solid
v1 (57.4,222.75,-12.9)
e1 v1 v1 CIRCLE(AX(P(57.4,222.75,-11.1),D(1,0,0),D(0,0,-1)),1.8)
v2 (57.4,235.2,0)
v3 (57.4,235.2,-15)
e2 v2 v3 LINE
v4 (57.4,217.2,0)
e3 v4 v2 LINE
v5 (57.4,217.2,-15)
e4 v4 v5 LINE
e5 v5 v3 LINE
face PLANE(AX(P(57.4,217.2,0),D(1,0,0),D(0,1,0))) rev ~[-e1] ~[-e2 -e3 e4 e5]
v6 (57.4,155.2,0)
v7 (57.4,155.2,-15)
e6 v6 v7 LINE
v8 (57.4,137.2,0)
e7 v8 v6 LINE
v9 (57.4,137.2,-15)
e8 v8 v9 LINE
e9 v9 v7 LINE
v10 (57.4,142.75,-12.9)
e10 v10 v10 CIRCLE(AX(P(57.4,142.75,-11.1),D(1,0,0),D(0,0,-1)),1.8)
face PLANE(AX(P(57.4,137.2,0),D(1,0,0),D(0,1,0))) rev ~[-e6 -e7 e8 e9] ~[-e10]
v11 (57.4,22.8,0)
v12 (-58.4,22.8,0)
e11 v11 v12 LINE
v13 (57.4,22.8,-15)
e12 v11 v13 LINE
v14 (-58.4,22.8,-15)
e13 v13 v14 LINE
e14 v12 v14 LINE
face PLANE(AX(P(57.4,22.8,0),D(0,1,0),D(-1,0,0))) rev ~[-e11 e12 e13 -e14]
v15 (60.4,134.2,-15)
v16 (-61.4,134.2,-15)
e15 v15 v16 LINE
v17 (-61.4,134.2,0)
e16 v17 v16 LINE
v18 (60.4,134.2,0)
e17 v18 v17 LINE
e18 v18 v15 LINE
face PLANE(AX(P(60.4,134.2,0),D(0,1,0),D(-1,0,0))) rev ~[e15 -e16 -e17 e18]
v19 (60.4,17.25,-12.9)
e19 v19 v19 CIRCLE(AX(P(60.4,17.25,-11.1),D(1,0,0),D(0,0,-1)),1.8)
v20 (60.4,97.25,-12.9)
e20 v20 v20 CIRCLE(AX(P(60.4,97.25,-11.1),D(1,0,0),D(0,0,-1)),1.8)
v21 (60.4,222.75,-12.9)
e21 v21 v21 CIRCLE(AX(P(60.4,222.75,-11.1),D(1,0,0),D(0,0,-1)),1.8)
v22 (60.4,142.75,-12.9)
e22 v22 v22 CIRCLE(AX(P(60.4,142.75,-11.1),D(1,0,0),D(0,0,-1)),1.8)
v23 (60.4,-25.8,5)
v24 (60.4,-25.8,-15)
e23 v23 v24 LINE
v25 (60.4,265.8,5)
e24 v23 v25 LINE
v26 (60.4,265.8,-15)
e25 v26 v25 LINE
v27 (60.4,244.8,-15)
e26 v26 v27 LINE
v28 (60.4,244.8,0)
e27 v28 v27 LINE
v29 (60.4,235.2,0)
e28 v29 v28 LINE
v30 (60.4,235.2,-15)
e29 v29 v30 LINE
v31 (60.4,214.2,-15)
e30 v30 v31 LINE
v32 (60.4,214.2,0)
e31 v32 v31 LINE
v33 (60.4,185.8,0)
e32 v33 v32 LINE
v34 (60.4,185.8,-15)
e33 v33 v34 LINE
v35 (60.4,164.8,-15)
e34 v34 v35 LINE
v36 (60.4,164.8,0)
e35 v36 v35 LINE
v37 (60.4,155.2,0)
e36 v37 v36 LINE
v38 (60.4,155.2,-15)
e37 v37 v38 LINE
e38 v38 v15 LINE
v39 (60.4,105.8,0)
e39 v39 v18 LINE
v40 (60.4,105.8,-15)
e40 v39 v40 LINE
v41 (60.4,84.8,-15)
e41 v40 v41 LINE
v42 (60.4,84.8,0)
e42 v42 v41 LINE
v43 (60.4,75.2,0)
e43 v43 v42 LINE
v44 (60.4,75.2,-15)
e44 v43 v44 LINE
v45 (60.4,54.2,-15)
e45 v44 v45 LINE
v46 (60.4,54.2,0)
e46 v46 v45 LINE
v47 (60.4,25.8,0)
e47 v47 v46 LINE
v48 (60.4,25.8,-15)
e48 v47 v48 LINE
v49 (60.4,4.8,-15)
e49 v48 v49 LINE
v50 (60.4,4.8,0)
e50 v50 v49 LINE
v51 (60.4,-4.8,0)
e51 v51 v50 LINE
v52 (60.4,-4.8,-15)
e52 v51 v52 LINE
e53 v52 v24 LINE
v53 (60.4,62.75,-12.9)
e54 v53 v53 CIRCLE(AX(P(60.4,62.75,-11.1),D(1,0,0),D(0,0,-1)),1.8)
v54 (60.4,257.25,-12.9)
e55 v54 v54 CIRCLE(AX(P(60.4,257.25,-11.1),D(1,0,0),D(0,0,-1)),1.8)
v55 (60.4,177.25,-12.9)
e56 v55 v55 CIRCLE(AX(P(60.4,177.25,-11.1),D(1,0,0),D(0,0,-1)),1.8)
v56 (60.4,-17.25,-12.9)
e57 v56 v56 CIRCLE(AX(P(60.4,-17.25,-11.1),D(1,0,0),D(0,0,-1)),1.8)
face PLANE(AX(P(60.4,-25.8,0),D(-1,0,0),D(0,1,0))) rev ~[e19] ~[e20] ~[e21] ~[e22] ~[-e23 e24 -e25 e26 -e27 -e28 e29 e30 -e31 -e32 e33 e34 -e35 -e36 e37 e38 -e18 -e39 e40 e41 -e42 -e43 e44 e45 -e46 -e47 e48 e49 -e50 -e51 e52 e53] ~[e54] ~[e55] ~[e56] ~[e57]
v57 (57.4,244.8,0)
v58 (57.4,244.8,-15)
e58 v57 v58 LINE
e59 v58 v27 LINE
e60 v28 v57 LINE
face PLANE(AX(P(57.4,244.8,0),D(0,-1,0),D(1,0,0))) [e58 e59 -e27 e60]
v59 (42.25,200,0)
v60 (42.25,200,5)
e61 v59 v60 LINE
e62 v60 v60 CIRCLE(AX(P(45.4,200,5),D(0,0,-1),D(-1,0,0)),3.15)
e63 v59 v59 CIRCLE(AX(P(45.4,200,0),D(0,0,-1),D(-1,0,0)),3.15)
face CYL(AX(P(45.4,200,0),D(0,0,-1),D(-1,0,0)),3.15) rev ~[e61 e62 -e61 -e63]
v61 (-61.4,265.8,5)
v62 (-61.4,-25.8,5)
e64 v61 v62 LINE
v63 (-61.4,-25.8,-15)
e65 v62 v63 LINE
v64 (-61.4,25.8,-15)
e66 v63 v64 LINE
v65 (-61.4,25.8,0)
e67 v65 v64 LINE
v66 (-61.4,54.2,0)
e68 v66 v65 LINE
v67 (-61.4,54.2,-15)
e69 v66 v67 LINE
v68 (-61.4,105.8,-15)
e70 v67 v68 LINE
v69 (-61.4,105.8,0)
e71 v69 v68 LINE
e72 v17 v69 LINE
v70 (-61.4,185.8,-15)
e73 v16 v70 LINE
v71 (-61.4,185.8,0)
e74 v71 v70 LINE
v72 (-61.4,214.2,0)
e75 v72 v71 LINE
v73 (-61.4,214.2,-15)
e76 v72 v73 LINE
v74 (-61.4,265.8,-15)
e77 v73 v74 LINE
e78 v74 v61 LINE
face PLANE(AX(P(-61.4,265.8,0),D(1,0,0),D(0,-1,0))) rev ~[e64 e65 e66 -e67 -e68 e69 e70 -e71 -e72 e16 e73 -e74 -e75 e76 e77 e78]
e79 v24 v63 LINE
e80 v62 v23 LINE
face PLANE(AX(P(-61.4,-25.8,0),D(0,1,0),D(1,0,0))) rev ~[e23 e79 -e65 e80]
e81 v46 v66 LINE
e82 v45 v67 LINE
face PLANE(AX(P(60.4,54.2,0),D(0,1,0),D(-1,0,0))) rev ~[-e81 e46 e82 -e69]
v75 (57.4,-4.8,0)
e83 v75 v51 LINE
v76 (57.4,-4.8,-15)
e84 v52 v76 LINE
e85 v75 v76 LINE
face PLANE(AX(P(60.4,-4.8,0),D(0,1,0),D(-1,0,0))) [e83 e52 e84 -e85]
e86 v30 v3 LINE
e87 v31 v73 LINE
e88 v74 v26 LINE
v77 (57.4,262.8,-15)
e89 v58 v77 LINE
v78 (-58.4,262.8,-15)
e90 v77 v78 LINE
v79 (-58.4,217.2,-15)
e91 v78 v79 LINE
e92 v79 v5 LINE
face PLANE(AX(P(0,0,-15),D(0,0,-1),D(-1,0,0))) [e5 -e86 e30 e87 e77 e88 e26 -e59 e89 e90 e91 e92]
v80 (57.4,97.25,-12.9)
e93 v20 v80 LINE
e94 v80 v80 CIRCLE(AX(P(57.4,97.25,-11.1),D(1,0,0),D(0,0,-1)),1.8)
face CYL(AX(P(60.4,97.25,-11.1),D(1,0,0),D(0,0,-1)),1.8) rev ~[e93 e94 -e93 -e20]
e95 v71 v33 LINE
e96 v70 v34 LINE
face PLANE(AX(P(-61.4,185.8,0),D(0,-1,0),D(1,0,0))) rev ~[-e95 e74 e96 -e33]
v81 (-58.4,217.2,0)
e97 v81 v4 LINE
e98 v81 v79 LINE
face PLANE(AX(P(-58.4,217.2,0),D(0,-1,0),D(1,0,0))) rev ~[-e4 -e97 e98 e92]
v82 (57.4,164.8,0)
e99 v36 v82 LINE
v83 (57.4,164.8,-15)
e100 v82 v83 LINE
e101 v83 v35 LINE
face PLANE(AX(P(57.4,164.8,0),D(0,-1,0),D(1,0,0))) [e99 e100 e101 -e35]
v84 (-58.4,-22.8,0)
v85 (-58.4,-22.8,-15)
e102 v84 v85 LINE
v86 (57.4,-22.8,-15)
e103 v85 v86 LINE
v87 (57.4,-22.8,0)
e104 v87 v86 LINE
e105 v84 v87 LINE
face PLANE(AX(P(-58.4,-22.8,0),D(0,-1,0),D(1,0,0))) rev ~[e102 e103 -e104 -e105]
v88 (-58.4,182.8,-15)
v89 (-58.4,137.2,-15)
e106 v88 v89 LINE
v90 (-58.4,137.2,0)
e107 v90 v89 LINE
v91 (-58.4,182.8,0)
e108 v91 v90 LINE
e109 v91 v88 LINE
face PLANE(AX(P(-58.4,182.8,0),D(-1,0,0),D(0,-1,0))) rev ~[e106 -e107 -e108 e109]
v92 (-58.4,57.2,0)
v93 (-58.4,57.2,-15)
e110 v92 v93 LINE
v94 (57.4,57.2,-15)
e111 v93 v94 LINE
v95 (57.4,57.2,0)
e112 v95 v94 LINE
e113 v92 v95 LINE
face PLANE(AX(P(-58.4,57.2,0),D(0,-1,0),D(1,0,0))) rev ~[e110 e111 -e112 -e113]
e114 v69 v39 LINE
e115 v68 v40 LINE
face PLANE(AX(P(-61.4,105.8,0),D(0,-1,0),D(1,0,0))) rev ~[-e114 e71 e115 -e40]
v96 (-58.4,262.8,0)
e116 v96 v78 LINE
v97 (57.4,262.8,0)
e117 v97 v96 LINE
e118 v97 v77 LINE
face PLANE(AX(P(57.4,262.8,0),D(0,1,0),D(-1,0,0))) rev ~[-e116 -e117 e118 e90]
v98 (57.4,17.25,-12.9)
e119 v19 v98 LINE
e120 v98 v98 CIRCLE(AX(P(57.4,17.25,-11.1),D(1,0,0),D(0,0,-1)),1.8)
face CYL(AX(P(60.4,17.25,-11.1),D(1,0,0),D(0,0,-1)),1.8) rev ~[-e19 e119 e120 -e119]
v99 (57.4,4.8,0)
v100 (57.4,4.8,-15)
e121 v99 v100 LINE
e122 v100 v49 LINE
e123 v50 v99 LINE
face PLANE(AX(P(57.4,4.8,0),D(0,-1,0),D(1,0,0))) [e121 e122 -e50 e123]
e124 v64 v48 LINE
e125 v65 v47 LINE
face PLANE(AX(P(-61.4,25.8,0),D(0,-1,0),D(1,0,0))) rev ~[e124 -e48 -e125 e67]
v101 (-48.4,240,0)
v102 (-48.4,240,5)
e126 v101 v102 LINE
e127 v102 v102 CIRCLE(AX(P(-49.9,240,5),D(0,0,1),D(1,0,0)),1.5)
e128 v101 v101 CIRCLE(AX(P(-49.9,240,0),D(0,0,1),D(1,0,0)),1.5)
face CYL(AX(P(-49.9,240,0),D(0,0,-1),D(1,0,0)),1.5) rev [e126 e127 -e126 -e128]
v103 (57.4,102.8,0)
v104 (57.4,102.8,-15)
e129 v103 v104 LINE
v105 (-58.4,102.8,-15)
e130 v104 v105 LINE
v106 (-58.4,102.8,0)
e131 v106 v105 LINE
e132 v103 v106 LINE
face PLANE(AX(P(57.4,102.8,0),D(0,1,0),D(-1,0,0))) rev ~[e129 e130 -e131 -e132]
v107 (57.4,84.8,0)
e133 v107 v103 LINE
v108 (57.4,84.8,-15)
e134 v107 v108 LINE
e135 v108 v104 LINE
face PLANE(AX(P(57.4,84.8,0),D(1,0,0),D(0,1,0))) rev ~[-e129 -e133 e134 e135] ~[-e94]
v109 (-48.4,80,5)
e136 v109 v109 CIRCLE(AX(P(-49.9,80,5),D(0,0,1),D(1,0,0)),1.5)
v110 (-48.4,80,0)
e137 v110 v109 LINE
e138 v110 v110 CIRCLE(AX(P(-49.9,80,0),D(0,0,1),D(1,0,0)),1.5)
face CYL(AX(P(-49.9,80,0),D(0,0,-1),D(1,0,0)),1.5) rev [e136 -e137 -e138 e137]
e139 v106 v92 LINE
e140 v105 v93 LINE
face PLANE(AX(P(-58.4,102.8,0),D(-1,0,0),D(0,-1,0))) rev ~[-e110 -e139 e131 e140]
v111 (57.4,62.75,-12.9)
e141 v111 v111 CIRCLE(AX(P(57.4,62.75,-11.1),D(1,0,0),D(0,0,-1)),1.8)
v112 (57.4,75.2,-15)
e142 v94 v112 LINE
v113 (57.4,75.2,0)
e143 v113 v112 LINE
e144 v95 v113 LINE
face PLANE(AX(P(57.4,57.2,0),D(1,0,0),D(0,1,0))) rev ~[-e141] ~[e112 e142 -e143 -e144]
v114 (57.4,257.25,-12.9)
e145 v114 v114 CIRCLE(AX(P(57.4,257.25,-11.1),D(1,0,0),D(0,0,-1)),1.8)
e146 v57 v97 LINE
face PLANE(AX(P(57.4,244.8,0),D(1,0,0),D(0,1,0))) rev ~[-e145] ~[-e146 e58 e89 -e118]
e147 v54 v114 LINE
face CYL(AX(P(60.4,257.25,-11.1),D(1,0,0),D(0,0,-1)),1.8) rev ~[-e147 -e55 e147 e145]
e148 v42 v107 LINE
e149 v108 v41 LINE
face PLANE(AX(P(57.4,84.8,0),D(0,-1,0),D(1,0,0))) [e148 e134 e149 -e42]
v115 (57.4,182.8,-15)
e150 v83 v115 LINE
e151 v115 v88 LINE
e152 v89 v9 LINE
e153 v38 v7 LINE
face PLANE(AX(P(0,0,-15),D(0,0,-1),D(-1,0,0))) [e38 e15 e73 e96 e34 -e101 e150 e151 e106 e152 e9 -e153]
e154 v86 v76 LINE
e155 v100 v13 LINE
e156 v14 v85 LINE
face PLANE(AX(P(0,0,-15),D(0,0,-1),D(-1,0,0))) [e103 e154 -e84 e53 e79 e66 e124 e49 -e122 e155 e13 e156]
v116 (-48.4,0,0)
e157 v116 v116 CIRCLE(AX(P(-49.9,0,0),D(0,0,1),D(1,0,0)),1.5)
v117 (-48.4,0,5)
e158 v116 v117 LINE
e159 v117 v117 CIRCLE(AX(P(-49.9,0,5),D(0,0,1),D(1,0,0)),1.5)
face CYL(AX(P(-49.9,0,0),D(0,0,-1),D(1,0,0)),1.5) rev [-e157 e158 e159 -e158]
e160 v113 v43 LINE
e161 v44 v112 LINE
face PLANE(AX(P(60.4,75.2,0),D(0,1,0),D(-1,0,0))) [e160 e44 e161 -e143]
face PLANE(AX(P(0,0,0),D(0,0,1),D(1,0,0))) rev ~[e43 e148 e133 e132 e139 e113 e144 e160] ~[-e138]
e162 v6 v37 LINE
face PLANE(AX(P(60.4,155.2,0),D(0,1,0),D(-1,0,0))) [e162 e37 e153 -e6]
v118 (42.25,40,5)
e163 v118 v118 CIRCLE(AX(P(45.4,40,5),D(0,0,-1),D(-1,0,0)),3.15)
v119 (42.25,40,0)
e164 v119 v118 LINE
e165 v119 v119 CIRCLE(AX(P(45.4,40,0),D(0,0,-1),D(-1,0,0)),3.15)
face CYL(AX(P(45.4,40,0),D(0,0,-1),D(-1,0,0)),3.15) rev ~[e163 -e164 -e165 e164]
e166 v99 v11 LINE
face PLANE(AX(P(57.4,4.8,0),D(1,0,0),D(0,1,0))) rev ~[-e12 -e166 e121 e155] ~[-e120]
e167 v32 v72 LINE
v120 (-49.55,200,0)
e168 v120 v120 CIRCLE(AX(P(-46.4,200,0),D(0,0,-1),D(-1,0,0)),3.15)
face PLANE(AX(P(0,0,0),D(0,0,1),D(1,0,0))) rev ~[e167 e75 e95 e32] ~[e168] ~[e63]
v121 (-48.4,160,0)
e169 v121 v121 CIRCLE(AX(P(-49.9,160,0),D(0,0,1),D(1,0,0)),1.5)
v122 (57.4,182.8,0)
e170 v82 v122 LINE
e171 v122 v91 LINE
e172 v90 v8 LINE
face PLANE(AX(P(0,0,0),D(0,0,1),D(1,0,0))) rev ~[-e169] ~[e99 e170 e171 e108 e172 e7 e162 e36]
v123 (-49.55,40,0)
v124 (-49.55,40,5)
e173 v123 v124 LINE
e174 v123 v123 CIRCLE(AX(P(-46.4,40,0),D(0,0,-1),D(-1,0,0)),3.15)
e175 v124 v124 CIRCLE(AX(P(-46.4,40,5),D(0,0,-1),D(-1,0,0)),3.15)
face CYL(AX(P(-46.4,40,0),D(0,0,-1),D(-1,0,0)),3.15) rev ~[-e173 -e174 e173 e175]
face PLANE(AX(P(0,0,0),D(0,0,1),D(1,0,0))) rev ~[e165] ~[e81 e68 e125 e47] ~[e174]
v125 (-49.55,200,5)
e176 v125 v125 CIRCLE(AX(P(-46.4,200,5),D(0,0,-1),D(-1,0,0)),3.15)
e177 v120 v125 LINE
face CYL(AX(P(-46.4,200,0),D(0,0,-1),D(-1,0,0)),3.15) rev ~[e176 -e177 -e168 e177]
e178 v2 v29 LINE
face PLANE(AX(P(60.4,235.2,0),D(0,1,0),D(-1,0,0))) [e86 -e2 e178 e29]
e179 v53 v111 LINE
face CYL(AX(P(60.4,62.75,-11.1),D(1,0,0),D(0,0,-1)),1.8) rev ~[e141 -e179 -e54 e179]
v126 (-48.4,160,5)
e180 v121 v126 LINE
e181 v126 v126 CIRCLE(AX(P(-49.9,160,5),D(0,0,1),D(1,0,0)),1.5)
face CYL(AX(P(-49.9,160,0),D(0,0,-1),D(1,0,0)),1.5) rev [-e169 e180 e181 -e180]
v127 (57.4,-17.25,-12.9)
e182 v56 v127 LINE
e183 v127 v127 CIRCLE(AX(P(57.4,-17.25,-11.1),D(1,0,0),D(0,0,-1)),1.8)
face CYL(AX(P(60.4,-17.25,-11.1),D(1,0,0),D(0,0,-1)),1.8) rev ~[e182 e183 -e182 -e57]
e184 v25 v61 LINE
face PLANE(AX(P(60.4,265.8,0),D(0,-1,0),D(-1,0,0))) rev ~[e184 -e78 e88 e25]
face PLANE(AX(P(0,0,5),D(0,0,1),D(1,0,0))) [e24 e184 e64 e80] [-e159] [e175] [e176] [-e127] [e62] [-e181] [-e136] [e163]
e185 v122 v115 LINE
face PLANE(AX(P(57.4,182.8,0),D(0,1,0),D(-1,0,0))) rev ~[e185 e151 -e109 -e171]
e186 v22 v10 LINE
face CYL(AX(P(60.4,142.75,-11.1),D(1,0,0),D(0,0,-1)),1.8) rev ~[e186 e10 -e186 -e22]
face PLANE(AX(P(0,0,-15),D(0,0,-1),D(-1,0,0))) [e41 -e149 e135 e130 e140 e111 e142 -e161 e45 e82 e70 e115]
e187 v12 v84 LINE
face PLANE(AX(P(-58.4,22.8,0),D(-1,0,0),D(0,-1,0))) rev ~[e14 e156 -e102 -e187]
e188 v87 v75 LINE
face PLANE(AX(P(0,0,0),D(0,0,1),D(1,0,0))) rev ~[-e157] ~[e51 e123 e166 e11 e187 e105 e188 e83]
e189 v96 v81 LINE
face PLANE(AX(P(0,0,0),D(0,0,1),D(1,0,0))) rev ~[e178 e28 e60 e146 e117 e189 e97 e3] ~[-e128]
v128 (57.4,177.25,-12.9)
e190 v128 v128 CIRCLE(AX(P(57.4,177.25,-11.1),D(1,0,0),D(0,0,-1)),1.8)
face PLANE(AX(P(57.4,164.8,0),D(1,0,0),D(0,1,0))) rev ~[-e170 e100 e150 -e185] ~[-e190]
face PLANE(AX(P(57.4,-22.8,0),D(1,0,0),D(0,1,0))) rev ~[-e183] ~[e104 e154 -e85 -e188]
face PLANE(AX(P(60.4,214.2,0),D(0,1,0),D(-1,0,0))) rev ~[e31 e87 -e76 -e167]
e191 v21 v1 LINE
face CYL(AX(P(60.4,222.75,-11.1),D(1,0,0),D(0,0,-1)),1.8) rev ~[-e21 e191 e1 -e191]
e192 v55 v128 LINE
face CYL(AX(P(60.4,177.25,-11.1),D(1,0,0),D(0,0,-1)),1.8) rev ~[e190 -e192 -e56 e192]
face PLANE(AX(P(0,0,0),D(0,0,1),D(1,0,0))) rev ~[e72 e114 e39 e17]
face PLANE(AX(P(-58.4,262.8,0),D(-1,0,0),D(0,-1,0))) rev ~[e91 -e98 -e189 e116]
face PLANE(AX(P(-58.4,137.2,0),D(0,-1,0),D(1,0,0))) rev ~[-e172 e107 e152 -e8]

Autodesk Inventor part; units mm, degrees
ref_plane "YZ Plane" through (0, 0, 0) normal (1, 0, 0) x (0, 1, 0)
ref_plane "XZ Plane" through (0, 0, 0) normal (0, 1, 0) x (-1, 0, 0)
ref_plane "XY Plane" through (0, 0, 0) normal (0, 0, 1) x (1, 0, 0)
ref_plane "Work Plane1" through (0, 0, 0) normal (0, 0, 1) x (1, 0, 0)
sketch "Sketch1" plane through (0, 0, 0) normal (0, 0, 1) x (1, 0, 0)
  line L0 (57.1, 22.5) -> (57.1, -22.5) construction
  line L1 (57.1, 22.5) -> (-58.1, 22.5) construction
  line L2 (-58.1, 22.5) -> (-58.1, -22.5) construction
  line L3 (-58.1, -22.5) -> (57.1, -22.5) construction
  arc A0 (47.6, -19.5) -> (49.6, -17.5) centre (47.6, -17.5) ccw construction
  line L4 (47.6, -19.5) -> (-47.1, -19.5) construction
  line L5 (-47.1, -19.5) -> (-47.1, -6.5) construction
  arc A1 (-47.1, -6.5) -> (-49.1, -4.5) centre (-49.1, -6.5) ccw construction
  line L6 (-49.1, -4.5) -> (-52.1, -4.5) construction
  arc A2 (-54.1, -2.5) -> (-52.1, -4.5) centre (-52.1, -2.5) ccw construction
  line L7 (-54.1, -2.5) -> (-54.1, 2.5) construction
  arc A3 (-52.1, 4.5) -> (-54.1, 2.5) centre (-52.1, 2.5) ccw construction
  line L8 (-52.1, 4.5) -> (-49.1, 4.5) construction
  arc A4 (-49.1, 4.5) -> (-47.1, 6.5) centre (-49.1, 6.5) ccw construction
  line L9 (-47.1, 6.5) -> (-47.1, 19.5) construction
  line L10 (-47.1, 19.5) -> (47.6, 19.5) construction
  arc A5 (49.6, 17.5) -> (47.6, 19.5) centre (47.6, 17.5) ccw construction
  line L11 (49.6, 17.5) -> (49.6, 9.5) construction
  arc A6 (47.6, 7.5) -> (49.6, 9.5) centre (47.6, 9.5) ccw construction
  line L12 (47.6, 7.5) -> (42.1, 7.5) construction
  arc A7 (42.1, 7.5) -> (40.1, 5.5) centre (42.1, 5.5) ccw construction
  line L13 (40.1, 5.5) -> (40.1, -5.5) construction
  arc A8 (40.1, -5.5) -> (42.1, -7.5) centre (42.1, -5.5) ccw construction
  line L14 (42.1, -7.5) -> (47.6, -7.5) construction
  arc A9 (49.6, -9.5) -> (47.6, -7.5) centre (47.6, -9.5) ccw construction
  line L15 (49.6, -9.5) -> (49.6, -17.5) construction
  line L16 (57.1, 102.5) -> (57.1, 57.5) construction
  line L17 (57.1, 102.5) -> (-58.1, 102.5) construction
  line L18 (-58.1, 102.5) -> (-58.1, 57.5) construction
  line L19 (-58.1, 57.5) -> (57.1, 57.5) construction
  arc A10 (47.6, 60.5) -> (49.6, 62.5) centre (47.6, 62.5) ccw construction
  line L20 (47.6, 60.5) -> (-47.1, 60.5) construction
  line L21 (-47.1, 60.5) -> (-47.1, 73.5) construction
  arc A11 (-47.1, 73.5) -> (-49.1, 75.5) centre (-49.1, 73.5) ccw construction
  line L22 (-49.1, 75.5) -> (-52.1, 75.5) construction
  arc A12 (-54.1, 77.5) -> (-52.1, 75.5) centre (-52.1, 77.5) ccw construction
  line L23 (-54.1, 77.5) -> (-54.1, 82.5) construction
  arc A13 (-52.1, 84.5) -> (-54.1, 82.5) centre (-52.1, 82.5) ccw construction
  line L24 (-52.1, 84.5) -> (-49.1, 84.5) construction
  arc A14 (-49.1, 84.5) -> (-47.1, 86.5) centre (-49.1, 86.5) ccw construction
  line L25 (-47.1, 86.5) -> (-47.1, 99.5) construction
  line L26 (-47.1, 99.5) -> (47.6, 99.5) construction
  arc A15 (49.6, 97.5) -> (47.6, 99.5) centre (47.6, 97.5) ccw construction
  line L27 (49.6, 97.5) -> (49.6, 89.5) construction
  arc A16 (47.6, 87.5) -> (49.6, 89.5) centre (47.6, 89.5) ccw construction
  line L28 (47.6, 87.5) -> (42.1, 87.5) construction
  arc A17 (42.1, 87.5) -> (40.1, 85.5) centre (42.1, 85.5) ccw construction
  line L29 (40.1, 85.5) -> (40.1, 74.5) construction
  arc A18 (40.1, 74.5) -> (42.1, 72.5) centre (42.1, 74.5) ccw construction
  line L30 (42.1, 72.5) -> (47.6, 72.5) construction
  arc A19 (49.6, 70.5) -> (47.6, 72.5) centre (47.6, 70.5) ccw construction
  line L31 (49.6, 70.5) -> (49.6, 62.5) construction
  line L32 (57.1, 182.5) -> (57.1, 137.5) construction
  line L33 (57.1, 182.5) -> (-58.1, 182.5) construction
  line L34 (-58.1, 182.5) -> (-58.1, 137.5) construction
  line L35 (-58.1, 137.5) -> (57.1, 137.5) construction
  arc A20 (47.6, 140.5) -> (49.6, 142.5) centre (47.6, 142.5) ccw construction
  line L36 (47.6, 140.5) -> (-47.1, 140.5) construction
  line L37 (-47.1, 140.5) -> (-47.1, 153.5) construction
  arc A21 (-47.1, 153.5) -> (-49.1, 155.5) centre (-49.1, 153.5) ccw construction
  line L38 (-49.1, 155.5) -> (-52.1, 155.5) construction
  arc A22 (-54.1, 157.5) -> (-52.1, 155.5) centre (-52.1, 157.5) ccw construction
  line L39 (-54.1, 157.5) -> (-54.1, 162.5) construction
  arc A23 (-52.1, 164.5) -> (-54.1, 162.5) centre (-52.1, 162.5) ccw construction
  line L40 (-52.1, 164.5) -> (-49.1, 164.5) construction
  arc A24 (-49.1, 164.5) -> (-47.1, 166.5) centre (-49.1, 166.5) ccw construction
  line L41 (-47.1, 166.5) -> (-47.1, 179.5) construction
  line L42 (-47.1, 179.5) -> (47.6, 179.5) construction
  arc A25 (49.6, 177.5) -> (47.6, 179.5) centre (47.6, 177.5) ccw construction
  line L43 (49.6, 177.5) -> (49.6, 169.5) construction
  arc A26 (47.6, 167.5) -> (49.6, 169.5) centre (47.6, 169.5) ccw construction
  line L44 (47.6, 167.5) -> (42.1, 167.5) construction
  arc A27 (42.1, 167.5) -> (40.1, 165.5) centre (42.1, 165.5) ccw construction
  line L45 (40.1, 165.5) -> (40.1, 154.5) construction
  arc A28 (40.1, 154.5) -> (42.1, 152.5) centre (42.1, 154.5) ccw construction
  line L46 (42.1, 152.5) -> (47.6, 152.5) construction
  arc A29 (49.6, 150.5) -> (47.6, 152.5) centre (47.6, 150.5) ccw construction
  line L47 (49.6, 150.5) -> (49.6, 142.5) construction
  line L48 (57.1, 262.5) -> (57.1, 217.5) construction
  line L49 (57.1, 262.5) -> (-58.1, 262.5) construction
  line L50 (-58.1, 262.5) -> (-58.1, 217.5) construction
  line L51 (-58.1, 217.5) -> (57.1, 217.5) construction
  arc A30 (47.6, 220.5) -> (49.6, 222.5) centre (47.6, 222.5) ccw construction
  line L52 (47.6, 220.5) -> (-47.1, 220.5) construction
  line L53 (-47.1, 220.5) -> (-47.1, 233.5) construction
  arc A31 (-47.1, 233.5) -> (-49.1, 235.5) centre (-49.1, 233.5) ccw construction
  line L54 (-49.1, 235.5) -> (-52.1, 235.5) construction
  arc A32 (-54.1, 237.5) -> (-52.1, 235.5) centre (-52.1, 237.5) ccw construction
  line L55 (-54.1, 237.5) -> (-54.1, 242.5) construction
  arc A33 (-52.1, 244.5) -> (-54.1, 242.5) centre (-52.1, 242.5) ccw construction
  line L56 (-52.1, 244.5) -> (-49.1, 244.5) construction
  arc A34 (-49.1, 244.5) -> (-47.1, 246.5) centre (-49.1, 246.5) ccw construction
  line L57 (-47.1, 246.5) -> (-47.1, 259.5) construction
  line L58 (-47.1, 259.5) -> (47.6, 259.5) construction
  arc A35 (49.6, 257.5) -> (47.6, 259.5) centre (47.6, 257.5) ccw construction
  line L59 (49.6, 257.5) -> (49.6, 249.5) construction
  arc A36 (47.6, 247.5) -> (49.6, 249.5) centre (47.6, 249.5) ccw construction
  line L60 (47.6, 247.5) -> (42.1, 247.5) construction
  arc A37 (42.1, 247.5) -> (40.1, 245.5) centre (42.1, 245.5) ccw construction
  line L61 (40.1, 245.5) -> (40.1, 234.5) construction
  arc A38 (40.1, 234.5) -> (42.1, 232.5) centre (42.1, 234.5) ccw construction
  line L62 (42.1, 232.5) -> (47.6, 232.5) construction
  arc A39 (49.6, 230.5) -> (47.6, 232.5) centre (47.6, 230.5) ccw construction
  line L63 (49.6, 230.5) -> (49.6, 222.5) construction
  circle A40 centre (-49.9, 240) radius 1.5 projected
  arc A41 (-26, 167) -> (-26, 153) centre (-26, 160) ccw construction
  line L64 (-26, 167) -> (26, 167) construction
  arc A42 (26, 153) -> (26, 167) centre (26, 160) ccw construction
  line L65 (26, 153) -> (-26, 153) construction
  circle A43 centre (44.1, 147) radius 1.5 construction
  circle A44 centre (44.1, 173) radius 1.5 construction
  circle A45 centre (-49.9, 160) radius 1.5 projected
  line L66 (47.6, 140.5) -> (-47.1, 140.5) construction
  arc A46 (47.6, 140.5) -> (49.6, 142.5) centre (47.6, 142.5) ccw construction
  line L67 (49.6, 150.5) -> (49.6, 142.5) construction
  arc A47 (49.6, 150.5) -> (47.6, 152.5) centre (47.6, 150.5) ccw construction
  line L68 (42.1, 152.5) -> (47.6, 152.5) construction
  arc A48 (40.1, 154.5) -> (42.1, 152.5) centre (42.1, 154.5) ccw construction
  line L69 (40.1, 165.5) -> (40.1, 154.5) construction
  arc A49 (42.1, 167.5) -> (40.1, 165.5) centre (42.1, 165.5) ccw construction
  line L70 (47.6, 167.5) -> (42.1, 167.5) construction
  arc A50 (47.6, 167.5) -> (49.6, 169.5) centre (47.6, 169.5) ccw construction
  line L71 (49.6, 177.5) -> (49.6, 169.5) construction
  arc A51 (49.6, 177.5) -> (47.6, 179.5) centre (47.6, 177.5) ccw construction
  line L72 (-47.1, 179.5) -> (47.6, 179.5) construction
  line L73 (-47.1, 166.5) -> (-47.1, 179.5) construction
  arc A52 (-49.1, 164.5) -> (-47.1, 166.5) centre (-49.1, 166.5) ccw construction
  line L74 (-52.1, 164.5) -> (-49.1, 164.5) construction
  arc A53 (-52.1, 164.5) -> (-54.1, 162.5) centre (-52.1, 162.5) ccw construction
  line L75 (-54.1, 157.5) -> (-54.1, 162.5) construction
  arc A54 (-54.1, 157.5) -> (-52.1, 155.5) centre (-52.1, 157.5) ccw construction
  line L76 (-49.1, 155.5) -> (-52.1, 155.5) construction
  arc A55 (-47.1, 153.5) -> (-49.1, 155.5) centre (-49.1, 153.5) ccw construction
  line L77 (-47.1, 140.5) -> (-47.1, 153.5) construction
  arc A56 (-26, 87) -> (-26, 73) centre (-26, 80) ccw construction
  line L78 (-26, 87) -> (26, 87) construction
  arc A57 (26, 73) -> (26, 87) centre (26, 80) ccw construction
  line L79 (26, 73) -> (-26, 73) construction
  circle A58 centre (44.1, 67) radius 1.5 construction
  circle A59 centre (44.1, 93) radius 1.5 construction
  circle A60 centre (-49.9, 80) radius 1.5 projected
  line L80 (47.6, 60.5) -> (-47.1, 60.5) construction
  arc A61 (47.6, 60.5) -> (49.6, 62.5) centre (47.6, 62.5) ccw construction
  line L81 (49.6, 70.5) -> (49.6, 62.5) construction
  arc A62 (49.6, 70.5) -> (47.6, 72.5) centre (47.6, 70.5) ccw construction
  line L82 (42.1, 72.5) -> (47.6, 72.5) construction
  arc A63 (40.1, 74.5) -> (42.1, 72.5) centre (42.1, 74.5) ccw construction
  line L83 (40.1, 85.5) -> (40.1, 74.5) construction
  arc A64 (42.1, 87.5) -> (40.1, 85.5) centre (42.1, 85.5) ccw construction
  line L84 (47.6, 87.5) -> (42.1, 87.5) construction
  arc A65 (47.6, 87.5) -> (49.6, 89.5) centre (47.6, 89.5) ccw construction
  line L85 (49.6, 97.5) -> (49.6, 89.5) construction
  arc A66 (49.6, 97.5) -> (47.6, 99.5) centre (47.6, 97.5) ccw construction
  line L86 (-47.1, 99.5) -> (47.6, 99.5) construction
  line L87 (-47.1, 86.5) -> (-47.1, 99.5) construction
  arc A67 (-49.1, 84.5) -> (-47.1, 86.5) centre (-49.1, 86.5) ccw construction
  line L88 (-52.1, 84.5) -> (-49.1, 84.5) construction
  arc A68 (-52.1, 84.5) -> (-54.1, 82.5) centre (-52.1, 82.5) ccw construction
  line L89 (-54.1, 77.5) -> (-54.1, 82.5) construction
  arc A69 (-54.1, 77.5) -> (-52.1, 75.5) centre (-52.1, 77.5) ccw construction
  line L90 (-49.1, 75.5) -> (-52.1, 75.5) construction
  arc A70 (-47.1, 73.5) -> (-49.1, 75.5) centre (-49.1, 73.5) ccw construction
  line L91 (-47.1, 60.5) -> (-47.1, 73.5) construction
  arc A71 (-26, 7) -> (-26, -7) centre (-26, 0) ccw construction
  line L92 (-26, 7) -> (26, 7) construction
  arc A72 (26, -7) -> (26, 7) centre (26, 0) ccw construction
  line L93 (26, -7) -> (-26, -7) construction
  circle A73 centre (44.1, -13) radius 1.5 construction
  circle A74 centre (44.1, 13) radius 1.5 construction
  circle A75 centre (-49.9, 0) radius 1.5 projected
  line L94 (47.6, -19.5) -> (-47.1, -19.5) construction
  arc A76 (47.6, -19.5) -> (49.6, -17.5) centre (47.6, -17.5) ccw construction
  line L95 (49.6, -9.5) -> (49.6, -17.5) construction
  arc A77 (49.6, -9.5) -> (47.6, -7.5) centre (47.6, -9.5) ccw construction
  line L96 (42.1, -7.5) -> (47.6, -7.5) construction
  arc A78 (40.1, -5.5) -> (42.1, -7.5) centre (42.1, -5.5) ccw construction
  line L97 (40.1, 5.5) -> (40.1, -5.5) construction
  arc A79 (42.1, 7.5) -> (40.1, 5.5) centre (42.1, 5.5) ccw construction
  line L98 (47.6, 7.5) -> (42.1, 7.5) construction
  arc A80 (47.6, 7.5) -> (49.6, 9.5) centre (47.6, 9.5) ccw construction
  line L99 (49.6, 17.5) -> (49.6, 9.5) construction
  arc A81 (49.6, 17.5) -> (47.6, 19.5) centre (47.6, 17.5) ccw construction
  line L100 (-47.1, 19.5) -> (47.6, 19.5) construction
  line L101 (-47.1, 6.5) -> (-47.1, 19.5) construction
  arc A82 (-49.1, 4.5) -> (-47.1, 6.5) centre (-49.1, 6.5) ccw construction
  line L102 (-52.1, 4.5) -> (-49.1, 4.5) construction
  arc A83 (-52.1, 4.5) -> (-54.1, 2.5) centre (-52.1, 2.5) ccw construction
  line L103 (-54.1, -2.5) -> (-54.1, 2.5) construction
  arc A84 (-54.1, -2.5) -> (-52.1, -4.5) centre (-52.1, -2.5) ccw construction
  line L104 (-49.1, -4.5) -> (-52.1, -4.5) construction
  arc A85 (-47.1, -6.5) -> (-49.1, -4.5) centre (-49.1, -6.5) ccw construction
  line L105 (-47.1, -19.5) -> (-47.1, -6.5) construction
  arc A86 (-26, 247) -> (-26, 233) centre (-26, 240) ccw construction
  line L106 (-26, 247) -> (26, 247) construction
  arc A87 (26, 233) -> (26, 247) centre (26, 240) ccw construction
  line L107 (26, 233) -> (-26, 233) construction
  circle A88 centre (44.1, 227) radius 1.5 construction
  circle A89 centre (44.1, 253) radius 1.5 construction
  circle A90 centre (-49.9, 240) radius 1.5 construction
  line L108 (47.6, 220.5) -> (-47.1, 220.5) construction
  arc A91 (47.6, 220.5) -> (49.6, 222.5) centre (47.6, 222.5) ccw construction
  line L109 (49.6, 230.5) -> (49.6, 222.5) construction
  arc A92 (49.6, 230.5) -> (47.6, 232.5) centre (47.6, 230.5) ccw construction
  line L110 (42.1, 232.5) -> (47.6, 232.5) construction
  arc A93 (40.1, 234.5) -> (42.1, 232.5) centre (42.1, 234.5) ccw construction
  line L111 (40.1, 245.5) -> (40.1, 234.5) construction
  arc A94 (42.1, 247.5) -> (40.1, 245.5) centre (42.1, 245.5) ccw construction
  line L112 (47.6, 247.5) -> (42.1, 247.5) construction
  arc A95 (47.6, 247.5) -> (49.6, 249.5) centre (47.6, 249.5) ccw construction
  line L113 (49.6, 257.5) -> (49.6, 249.5) construction
  arc A96 (49.6, 257.5) -> (47.6, 259.5) centre (47.6, 257.5) ccw construction
  line L114 (-47.1, 259.5) -> (47.6, 259.5) construction
  line L115 (-47.1, 246.5) -> (-47.1, 259.5) construction
  arc A97 (-49.1, 244.5) -> (-47.1, 246.5) centre (-49.1, 246.5) ccw construction
  line L116 (-52.1, 244.5) -> (-49.1, 244.5) construction
  arc A98 (-52.1, 244.5) -> (-54.1, 242.5) centre (-52.1, 242.5) ccw construction
  line L117 (-54.1, 237.5) -> (-54.1, 242.5) construction
  arc A99 (-54.1, 237.5) -> (-52.1, 235.5) centre (-52.1, 237.5) ccw construction
  line L118 (-49.1, 235.5) -> (-52.1, 235.5) construction
  arc A100 (-47.1, 233.5) -> (-49.1, 235.5) centre (-49.1, 233.5) ccw construction
  line L119 (-47.1, 220.5) -> (-47.1, 233.5) construction
  line L120 (60.4, 265.8) -> (-61.4, 265.8)
  line L121 (-61.4, 265.8) -> (-61.4, -25.8)
  line L122 (-61.4, -25.8) -> (60.4, -25.8)
  line L123 (60.4, -25.8) -> (60.4, 265.8)
  point P0 (0, 0)
  dimension "d0" = 3.3
  dimension "d1" = 3.3
  dimension "d2" = 3.3
  dimension "d3" = 3.3
extrude "Extrusion1" add sketch "Sketch1" along normal blind 5
sketch "Sketch2" plane through (0, 0, 0) normal (0, 0, -1) x (-1, 0, 0)
  line L0 (-57.1, -22.5) -> (-57.1, 22.5) construction
  line L1 (-57.1, -22.5) -> (58.1, -22.5) construction
  line L2 (58.1, -22.5) -> (58.1, 22.5) construction
  line L3 (58.1, 22.5) -> (-57.1, 22.5) construction
  circle A0 centre (-55.1, -16.5) radius 1.5 construction
  circle A1 centre (-55.1, 16.5) radius 1.5 construction
  line L4 (-57.1, 57.5) -> (-57.1, 102.5) construction
  line L5 (-57.1, 57.5) -> (58.1, 57.5) construction
  line L6 (58.1, 57.5) -> (58.1, 102.5) construction
  line L7 (58.1, 102.5) -> (-57.1, 102.5) construction
  circle A2 centre (-55.1, 63.5) radius 1.5 construction
  circle A3 centre (-55.1, 96.5) radius 1.5 construction
  line L8 (-57.1, 137.5) -> (-57.1, 182.5) construction
  line L9 (-57.1, 137.5) -> (58.1, 137.5) construction
  line L10 (58.1, 137.5) -> (58.1, 182.5) construction
  line L11 (58.1, 182.5) -> (-57.1, 182.5) construction
  circle A4 centre (-55.1, 143.5) radius 1.5 construction
  circle A5 centre (-55.1, 176.5) radius 1.5 construction
  line L12 (-57.1, 217.5) -> (-57.1, 262.5) construction
  line L13 (-57.1, 217.5) -> (58.1, 217.5) construction
  line L14 (58.1, 217.5) -> (58.1, 262.5) construction
  line L15 (58.1, 262.5) -> (-57.1, 262.5) construction
  circle A6 centre (-55.1, 223.5) radius 1.5 construction
  circle A7 centre (-55.1, 256.5) radius 1.5 construction
  line L16 (58.4, 217.2) -> (-57.4, 217.2)
  line L17 (-57.4, 217.2) -> (-57.4, 262.8)
  line L18 (-57.4, 262.8) -> (58.4, 262.8)
  line L19 (58.4, 262.8) -> (58.4, 217.2)
  line L20 (58.4, 137.2) -> (-57.4, 137.2)
  line L21 (-57.4, 137.2) -> (-57.4, 182.8)
  line L22 (-57.4, 182.8) -> (58.4, 182.8)
  line L23 (58.4, 182.8) -> (58.4, 137.2)
  line L24 (58.4, 57.2) -> (-57.4, 57.2)
  line L25 (-57.4, 57.2) -> (-57.4, 102.8)
  line L26 (-57.4, 102.8) -> (58.4, 102.8)
  line L27 (58.4, 102.8) -> (58.4, 57.2)
  line L28 (58.4, -22.8) -> (-57.4, -22.8)
  line L29 (-57.4, -22.8) -> (-57.4, 22.8)
  line L30 (-57.4, 22.8) -> (58.4, 22.8)
  line L31 (58.4, 22.8) -> (58.4, -22.8)
  line L32 (-60.4, -25.8) -> (61.4, -25.8)
  line L33 (61.4, -25.8) -> (61.4, 25.8)
  line L34 (61.4, 25.8) -> (-60.4, 25.8)
  line L35 (-60.4, 25.8) -> (-60.4, -25.8)
  line L36 (-60.4, 54.2) -> (61.4, 54.2)
  line L37 (61.4, 54.2) -> (61.4, 105.8)
  line L38 (61.4, 105.8) -> (-60.4, 105.8)
  line L39 (-60.4, 105.8) -> (-60.4, 54.2)
  line L40 (-60.4, 134.2) -> (61.4, 134.2)
  line L41 (61.4, 134.2) -> (61.4, 185.8)
  line L42 (61.4, 185.8) -> (-60.4, 185.8)
  line L43 (-60.4, 185.8) -> (-60.4, 134.2)
  line L44 (-60.4, 214.2) -> (61.4, 214.2)
  line L45 (61.4, 214.2) -> (61.4, 265.8)
  line L46 (61.4, 265.8) -> (-60.4, 265.8)
  line L47 (-60.4, 265.8) -> (-60.4, 214.2)
  line L48 (-85.2, 244.5) -> (-85.2, 235.5) projected
  line L49 (-58.1, 244.5) -> (-85.2, 244.5) projected
  line L50 (-58.1, 235.5) -> (-58.1, 244.5) projected
  line L51 (-85.2, 235.5) -> (-58.1, 235.5) projected
  line L52 (-85.2, 164.5) -> (-85.2, 155.5) projected
  line L53 (-58.1, 164.5) -> (-85.2, 164.5) projected
  line L54 (-58.1, 155.5) -> (-58.1, 164.5) projected
  line L55 (-85.2, 155.5) -> (-58.1, 155.5) projected
  line L56 (-85.2, 84.5) -> (-85.2, 75.5) projected
  line L57 (-58.1, 84.5) -> (-85.2, 84.5) projected
  line L58 (-58.1, 75.5) -> (-58.1, 84.5) projected
  line L59 (-85.2, 75.5) -> (-58.1, 75.5) projected
  line L60 (-85.2, 4.5) -> (-85.2, -4.5) projected
  line L61 (-58.1, 4.5) -> (-85.2, 4.5) projected
  line L62 (-58.1, -4.5) -> (-58.1, 4.5) projected
  line L63 (-85.2, -4.5) -> (-58.1, -4.5) projected
  line L64 (-85.5, 244.8) -> (-85.5, 235.2)
  line L65 (-85.5, 235.2) -> (-57.8, 235.2)
  line L66 (-57.8, 235.2) -> (-57.8, 244.8)
  line L67 (-57.8, 244.8) -> (-85.5, 244.8)
  line L68 (-85.5, 164.8) -> (-85.5, 155.2)
  line L69 (-85.5, 155.2) -> (-57.8, 155.2)
  line L70 (-57.8, 155.2) -> (-57.8, 164.8)
  line L71 (-57.8, 164.8) -> (-85.5, 164.8)
  line L72 (-85.5, 84.8) -> (-85.5, 75.2)
  line L73 (-85.5, 75.2) -> (-57.8, 75.2)
  line L74 (-57.8, 75.2) -> (-57.8, 84.8)
  line L75 (-57.8, 84.8) -> (-85.5, 84.8)
  line L76 (-85.5, 4.8) -> (-85.5, -4.8)
  line L77 (-85.5, -4.8) -> (-57.8, -4.8)
  line L78 (-57.8, -4.8) -> (-57.8, 4.8)
  line L79 (-57.8, 4.8) -> (-85.5, 4.8) construction
  line L80 (-57.4, 4.8) -> (-60.4, 4.8)
  line L81 (-57.4, -4.8) -> (-60.4, -4.8)
  line L82 (-57.4, 84.8) -> (-60.4, 84.8)
  line L83 (-57.4, 75.2) -> (-60.4, 75.2)
  line L84 (-57.4, 164.8) -> (-60.4, 164.8)
  line L85 (-57.4, 155.2) -> (-60.4, 155.2)
  line L86 (-57.4, 244.8) -> (-60.4, 244.8)
  line L87 (-57.4, 235.2) -> (-60.4, 235.2)
  line L88 (-57.4, 244.8) -> (-60.4, 244.8)
  line L89 (-60.4, 244.8) -> (-60.4, 235.2)
  line L90 (-60.4, 235.2) -> (-57.4, 235.2)
  line L91 (-57.4, 235.2) -> (-57.4, 244.8)
  line L92 (-57.4, 164.8) -> (-60.4, 164.8)
  line L93 (-60.4, 164.8) -> (-60.4, 155.2)
  line L94 (-60.4, 155.2) -> (-57.4, 155.2)
  line L95 (-57.4, 155.2) -> (-57.4, 164.8)
  line L96 (-57.4, 84.8) -> (-60.4, 84.8)
  line L97 (-60.4, 84.8) -> (-60.4, 75.2)
  line L98 (-60.4, 75.2) -> (-57.4, 75.2)
  line L99 (-57.4, 75.2) -> (-57.4, 84.8)
  point P0 (0, 0)
  dimension "d6" = 0.3
  dimension "d7" = 0.3
  dimension "d8" = 0.3
  dimension "d9" = 0.3
  dimension "d10" = 3
  dimension "d11" = 3
  dimension "d12" = 3
  dimension "d13" = 3
  dimension "d14" = 0.3
  dimension "d15" = 0.3
  dimension "d16" = 0.3
  dimension "d17" = 0.3
  dimension "d20" = 80
extrude "Extrusion2" add sketch "Sketch2" along normal blind 15 contours L19 L18 L17 L86 L67 L47 L46 L45 L44 L65 L87 L16 | L23 L22 L21 L84 L71 L43 L42 L41 L40 L69 L85 L20 | L27 L26 L25 L82 L75 L39 L38 L37 L36 L73 L83 L24 | L31 L30 L29 L80 L35 L34 L33 L32 L77 L81 L28
sketch "Sketch3" plane through (60.4, -25.8, 5) normal (1, 0, 0) x (0, 0, -1)
  circle A0 centre (16.1, 8.55) radius 1.5 construction
  circle A1 centre (86.1, 43.05) radius 1.5 construction
  circle A2 centre (16.1, 43.05) radius 1.5 construction
  circle A3 centre (86.1, 8.55) radius 1.5 construction
  line L0 (6.1, 30.3) -> (44.6, 30.3) construction
  line L1 (44.6, 30.3) -> (44.6, 21.3) construction
  line L2 (44.6, 21.3) -> (6.1, 21.3) construction
  line L3 (6.1, 4.3) -> (6.1, 21.3) construction
  line L4 (131.1, 4.3) -> (6.1, 4.3) construction
  line L5 (131.1, 25.8) -> (131.1, 4.3) construction
  circle A4 centre (111.6, 25.8) radius 19.5 construction
  line L6 (131.1, 47.3) -> (131.1, 25.8) construction
  line L7 (6.1, 47.3) -> (131.1, 47.3) construction
  line L8 (6.1, 30.3) -> (6.1, 47.3) construction
  circle A5 centre (16.1, 88.55) radius 1.5 construction
  circle A6 centre (86.1, 123.05) radius 1.5 construction
  circle A7 centre (16.1, 123.05) radius 1.5 construction
  circle A8 centre (86.1, 88.55) radius 1.5 construction
  line L9 (6.1, 110.3) -> (44.6, 110.3) construction
  line L10 (44.6, 110.3) -> (44.6, 101.3) construction
  line L11 (44.6, 101.3) -> (6.1, 101.3) construction
  line L12 (6.1, 84.3) -> (6.1, 101.3) construction
  line L13 (131.1, 84.3) -> (6.1, 84.3) construction
  line L14 (131.1, 105.8) -> (131.1, 84.3) construction
  circle A9 centre (111.6, 105.8) radius 19.5 construction
  line L15 (131.1, 127.3) -> (131.1, 105.8) construction
  line L16 (6.1, 127.3) -> (131.1, 127.3) construction
  line L17 (6.1, 110.3) -> (6.1, 127.3) construction
  circle A10 centre (16.1, 168.55) radius 1.5 construction
  circle A11 centre (86.1, 203.05) radius 1.5 construction
  circle A12 centre (16.1, 203.05) radius 1.5 construction
  circle A13 centre (86.1, 168.55) radius 1.5 construction
  line L18 (6.1, 190.3) -> (44.6, 190.3) construction
  line L19 (44.6, 190.3) -> (44.6, 181.3) construction
  line L20 (44.6, 181.3) -> (6.1, 181.3) construction
  line L21 (6.1, 164.3) -> (6.1, 181.3) construction
  line L22 (131.1, 164.3) -> (6.1, 164.3) construction
  line L23 (131.1, 185.8) -> (131.1, 164.3) construction
  circle A14 centre (111.6, 185.8) radius 19.5 construction
  line L24 (131.1, 207.3) -> (131.1, 185.8) construction
  line L25 (6.1, 207.3) -> (131.1, 207.3) construction
  line L26 (6.1, 190.3) -> (6.1, 207.3) construction
  circle A15 centre (16.1, 248.55) radius 1.5 construction
  circle A16 centre (86.1, 283.05) radius 1.5 construction
  circle A17 centre (16.1, 283.05) radius 1.5 construction
  circle A18 centre (86.1, 248.55) radius 1.5 construction
  line L27 (6.1, 270.3) -> (44.6, 270.3) construction
  line L28 (44.6, 270.3) -> (44.6, 261.3) construction
  line L29 (44.6, 261.3) -> (6.1, 261.3) construction
  line L30 (6.1, 244.3) -> (6.1, 261.3) construction
  line L31 (131.1, 244.3) -> (6.1, 244.3) construction
  line L32 (131.1, 265.8) -> (131.1, 244.3) construction
  circle A19 centre (111.6, 265.8) radius 19.5 construction
  line L33 (131.1, 287.3) -> (131.1, 265.8) construction
  line L34 (6.1, 287.3) -> (131.1, 287.3) construction
  line L35 (6.1, 270.3) -> (6.1, 287.3) construction
  circle A20 centre (16.1, 8.55) radius 1.8
  circle A21 centre (16.1, 43.05) radius 1.8
  circle A22 centre (16.1, 88.55) radius 1.8
  circle A23 centre (16.1, 123.05) radius 1.8
  circle A24 centre (16.1, 168.55) radius 1.8
  circle A25 centre (16.1, 203.05) radius 1.8
  circle A26 centre (16.1, 248.55) radius 1.8
  circle A27 centre (16.1, 283.05) radius 1.8
  point P0 (5, 25.8)
  dimension "d27" = 0.3
  dimension "d28" = 0.3
  dimension "d29" = 0.3
  dimension "d30" = 0.3
  dimension "d31" = 0.3
  dimension "d32" = 0.3
  dimension "d33" = 0.3
  dimension "d34" = 0.3
extrude "Extrusion3" cut sketch "Sketch3" against normal up to next
ref_plane "Work Plane2" through (-61.4, 120, 5) normal (0, 1, 0) x (1, 0, 0)
sketch "Sketch4" plane through (0, 0, 0) normal (0, 0, -1) x (-1, 0, 0)
  circle A0 centre (46.4, 200) radius 3.15
  circle A1 centre (-45.4, 200) radius 3.15
  line L0 (61.4, 214.2) -> (61.4, 185.8) projected
  line L1 (-60.4, 185.8) -> (-60.4, 214.2) projected
  line L2 (61.4, 265.8) -> (61.4, -25.8) projected
  line L3 (61.4, 120) -> (-60.4, 120) construction
  circle A2 centre (46.4, 40) radius 3.15
  circle A3 centre (-45.4, 40) radius 3.15
  point P0 (0, 0)
  point P1 (61.4, 200)
  dimension "d37" = 6.3
  dimension "d38" = 6.3
  dimension "d41" = 15
  dimension "d42" = 15
extrude "Extrusion4" cut sketch "Sketch4" against normal up to next
sketch "Sketch5" plane through (0, 0, 5) normal (0, 0, 1) x (1, 0, 0)
  line L0 (157.7, -40.393) -> (-71.4, -40.393)
  line L1 (-71.4, -40.393) -> (-71.4, 280.393)
  line L2 (-71.4, 280.393) -> (157.7, 280.393)
  line L3 (157.7, 280.393) -> (157.7, -40.393)
  arc A0 (146.924, 34.8766) -> (146.924, 45.1234) centre (130.4, 40) ccw projected
  line L4 (84.2088, -23.322) -> (91.2798, -30.393)
  line L5 (84.2088, 263.322) -> (91.2798, 270.393)
  line L6 (-61.4, 265.8) -> (-61.4, -25.8) projected
  point P0 (0, 0)
  point P1 (147.7, 40)
  dimension "d45" = 10
  dimension "d46" = 10
  dimension "d47" = 10
  dimension "d48" = 10
  dimension "d49" = 320.7861
  dimension "d50" = 229.1
properties part number "Syring Pump Holder"
